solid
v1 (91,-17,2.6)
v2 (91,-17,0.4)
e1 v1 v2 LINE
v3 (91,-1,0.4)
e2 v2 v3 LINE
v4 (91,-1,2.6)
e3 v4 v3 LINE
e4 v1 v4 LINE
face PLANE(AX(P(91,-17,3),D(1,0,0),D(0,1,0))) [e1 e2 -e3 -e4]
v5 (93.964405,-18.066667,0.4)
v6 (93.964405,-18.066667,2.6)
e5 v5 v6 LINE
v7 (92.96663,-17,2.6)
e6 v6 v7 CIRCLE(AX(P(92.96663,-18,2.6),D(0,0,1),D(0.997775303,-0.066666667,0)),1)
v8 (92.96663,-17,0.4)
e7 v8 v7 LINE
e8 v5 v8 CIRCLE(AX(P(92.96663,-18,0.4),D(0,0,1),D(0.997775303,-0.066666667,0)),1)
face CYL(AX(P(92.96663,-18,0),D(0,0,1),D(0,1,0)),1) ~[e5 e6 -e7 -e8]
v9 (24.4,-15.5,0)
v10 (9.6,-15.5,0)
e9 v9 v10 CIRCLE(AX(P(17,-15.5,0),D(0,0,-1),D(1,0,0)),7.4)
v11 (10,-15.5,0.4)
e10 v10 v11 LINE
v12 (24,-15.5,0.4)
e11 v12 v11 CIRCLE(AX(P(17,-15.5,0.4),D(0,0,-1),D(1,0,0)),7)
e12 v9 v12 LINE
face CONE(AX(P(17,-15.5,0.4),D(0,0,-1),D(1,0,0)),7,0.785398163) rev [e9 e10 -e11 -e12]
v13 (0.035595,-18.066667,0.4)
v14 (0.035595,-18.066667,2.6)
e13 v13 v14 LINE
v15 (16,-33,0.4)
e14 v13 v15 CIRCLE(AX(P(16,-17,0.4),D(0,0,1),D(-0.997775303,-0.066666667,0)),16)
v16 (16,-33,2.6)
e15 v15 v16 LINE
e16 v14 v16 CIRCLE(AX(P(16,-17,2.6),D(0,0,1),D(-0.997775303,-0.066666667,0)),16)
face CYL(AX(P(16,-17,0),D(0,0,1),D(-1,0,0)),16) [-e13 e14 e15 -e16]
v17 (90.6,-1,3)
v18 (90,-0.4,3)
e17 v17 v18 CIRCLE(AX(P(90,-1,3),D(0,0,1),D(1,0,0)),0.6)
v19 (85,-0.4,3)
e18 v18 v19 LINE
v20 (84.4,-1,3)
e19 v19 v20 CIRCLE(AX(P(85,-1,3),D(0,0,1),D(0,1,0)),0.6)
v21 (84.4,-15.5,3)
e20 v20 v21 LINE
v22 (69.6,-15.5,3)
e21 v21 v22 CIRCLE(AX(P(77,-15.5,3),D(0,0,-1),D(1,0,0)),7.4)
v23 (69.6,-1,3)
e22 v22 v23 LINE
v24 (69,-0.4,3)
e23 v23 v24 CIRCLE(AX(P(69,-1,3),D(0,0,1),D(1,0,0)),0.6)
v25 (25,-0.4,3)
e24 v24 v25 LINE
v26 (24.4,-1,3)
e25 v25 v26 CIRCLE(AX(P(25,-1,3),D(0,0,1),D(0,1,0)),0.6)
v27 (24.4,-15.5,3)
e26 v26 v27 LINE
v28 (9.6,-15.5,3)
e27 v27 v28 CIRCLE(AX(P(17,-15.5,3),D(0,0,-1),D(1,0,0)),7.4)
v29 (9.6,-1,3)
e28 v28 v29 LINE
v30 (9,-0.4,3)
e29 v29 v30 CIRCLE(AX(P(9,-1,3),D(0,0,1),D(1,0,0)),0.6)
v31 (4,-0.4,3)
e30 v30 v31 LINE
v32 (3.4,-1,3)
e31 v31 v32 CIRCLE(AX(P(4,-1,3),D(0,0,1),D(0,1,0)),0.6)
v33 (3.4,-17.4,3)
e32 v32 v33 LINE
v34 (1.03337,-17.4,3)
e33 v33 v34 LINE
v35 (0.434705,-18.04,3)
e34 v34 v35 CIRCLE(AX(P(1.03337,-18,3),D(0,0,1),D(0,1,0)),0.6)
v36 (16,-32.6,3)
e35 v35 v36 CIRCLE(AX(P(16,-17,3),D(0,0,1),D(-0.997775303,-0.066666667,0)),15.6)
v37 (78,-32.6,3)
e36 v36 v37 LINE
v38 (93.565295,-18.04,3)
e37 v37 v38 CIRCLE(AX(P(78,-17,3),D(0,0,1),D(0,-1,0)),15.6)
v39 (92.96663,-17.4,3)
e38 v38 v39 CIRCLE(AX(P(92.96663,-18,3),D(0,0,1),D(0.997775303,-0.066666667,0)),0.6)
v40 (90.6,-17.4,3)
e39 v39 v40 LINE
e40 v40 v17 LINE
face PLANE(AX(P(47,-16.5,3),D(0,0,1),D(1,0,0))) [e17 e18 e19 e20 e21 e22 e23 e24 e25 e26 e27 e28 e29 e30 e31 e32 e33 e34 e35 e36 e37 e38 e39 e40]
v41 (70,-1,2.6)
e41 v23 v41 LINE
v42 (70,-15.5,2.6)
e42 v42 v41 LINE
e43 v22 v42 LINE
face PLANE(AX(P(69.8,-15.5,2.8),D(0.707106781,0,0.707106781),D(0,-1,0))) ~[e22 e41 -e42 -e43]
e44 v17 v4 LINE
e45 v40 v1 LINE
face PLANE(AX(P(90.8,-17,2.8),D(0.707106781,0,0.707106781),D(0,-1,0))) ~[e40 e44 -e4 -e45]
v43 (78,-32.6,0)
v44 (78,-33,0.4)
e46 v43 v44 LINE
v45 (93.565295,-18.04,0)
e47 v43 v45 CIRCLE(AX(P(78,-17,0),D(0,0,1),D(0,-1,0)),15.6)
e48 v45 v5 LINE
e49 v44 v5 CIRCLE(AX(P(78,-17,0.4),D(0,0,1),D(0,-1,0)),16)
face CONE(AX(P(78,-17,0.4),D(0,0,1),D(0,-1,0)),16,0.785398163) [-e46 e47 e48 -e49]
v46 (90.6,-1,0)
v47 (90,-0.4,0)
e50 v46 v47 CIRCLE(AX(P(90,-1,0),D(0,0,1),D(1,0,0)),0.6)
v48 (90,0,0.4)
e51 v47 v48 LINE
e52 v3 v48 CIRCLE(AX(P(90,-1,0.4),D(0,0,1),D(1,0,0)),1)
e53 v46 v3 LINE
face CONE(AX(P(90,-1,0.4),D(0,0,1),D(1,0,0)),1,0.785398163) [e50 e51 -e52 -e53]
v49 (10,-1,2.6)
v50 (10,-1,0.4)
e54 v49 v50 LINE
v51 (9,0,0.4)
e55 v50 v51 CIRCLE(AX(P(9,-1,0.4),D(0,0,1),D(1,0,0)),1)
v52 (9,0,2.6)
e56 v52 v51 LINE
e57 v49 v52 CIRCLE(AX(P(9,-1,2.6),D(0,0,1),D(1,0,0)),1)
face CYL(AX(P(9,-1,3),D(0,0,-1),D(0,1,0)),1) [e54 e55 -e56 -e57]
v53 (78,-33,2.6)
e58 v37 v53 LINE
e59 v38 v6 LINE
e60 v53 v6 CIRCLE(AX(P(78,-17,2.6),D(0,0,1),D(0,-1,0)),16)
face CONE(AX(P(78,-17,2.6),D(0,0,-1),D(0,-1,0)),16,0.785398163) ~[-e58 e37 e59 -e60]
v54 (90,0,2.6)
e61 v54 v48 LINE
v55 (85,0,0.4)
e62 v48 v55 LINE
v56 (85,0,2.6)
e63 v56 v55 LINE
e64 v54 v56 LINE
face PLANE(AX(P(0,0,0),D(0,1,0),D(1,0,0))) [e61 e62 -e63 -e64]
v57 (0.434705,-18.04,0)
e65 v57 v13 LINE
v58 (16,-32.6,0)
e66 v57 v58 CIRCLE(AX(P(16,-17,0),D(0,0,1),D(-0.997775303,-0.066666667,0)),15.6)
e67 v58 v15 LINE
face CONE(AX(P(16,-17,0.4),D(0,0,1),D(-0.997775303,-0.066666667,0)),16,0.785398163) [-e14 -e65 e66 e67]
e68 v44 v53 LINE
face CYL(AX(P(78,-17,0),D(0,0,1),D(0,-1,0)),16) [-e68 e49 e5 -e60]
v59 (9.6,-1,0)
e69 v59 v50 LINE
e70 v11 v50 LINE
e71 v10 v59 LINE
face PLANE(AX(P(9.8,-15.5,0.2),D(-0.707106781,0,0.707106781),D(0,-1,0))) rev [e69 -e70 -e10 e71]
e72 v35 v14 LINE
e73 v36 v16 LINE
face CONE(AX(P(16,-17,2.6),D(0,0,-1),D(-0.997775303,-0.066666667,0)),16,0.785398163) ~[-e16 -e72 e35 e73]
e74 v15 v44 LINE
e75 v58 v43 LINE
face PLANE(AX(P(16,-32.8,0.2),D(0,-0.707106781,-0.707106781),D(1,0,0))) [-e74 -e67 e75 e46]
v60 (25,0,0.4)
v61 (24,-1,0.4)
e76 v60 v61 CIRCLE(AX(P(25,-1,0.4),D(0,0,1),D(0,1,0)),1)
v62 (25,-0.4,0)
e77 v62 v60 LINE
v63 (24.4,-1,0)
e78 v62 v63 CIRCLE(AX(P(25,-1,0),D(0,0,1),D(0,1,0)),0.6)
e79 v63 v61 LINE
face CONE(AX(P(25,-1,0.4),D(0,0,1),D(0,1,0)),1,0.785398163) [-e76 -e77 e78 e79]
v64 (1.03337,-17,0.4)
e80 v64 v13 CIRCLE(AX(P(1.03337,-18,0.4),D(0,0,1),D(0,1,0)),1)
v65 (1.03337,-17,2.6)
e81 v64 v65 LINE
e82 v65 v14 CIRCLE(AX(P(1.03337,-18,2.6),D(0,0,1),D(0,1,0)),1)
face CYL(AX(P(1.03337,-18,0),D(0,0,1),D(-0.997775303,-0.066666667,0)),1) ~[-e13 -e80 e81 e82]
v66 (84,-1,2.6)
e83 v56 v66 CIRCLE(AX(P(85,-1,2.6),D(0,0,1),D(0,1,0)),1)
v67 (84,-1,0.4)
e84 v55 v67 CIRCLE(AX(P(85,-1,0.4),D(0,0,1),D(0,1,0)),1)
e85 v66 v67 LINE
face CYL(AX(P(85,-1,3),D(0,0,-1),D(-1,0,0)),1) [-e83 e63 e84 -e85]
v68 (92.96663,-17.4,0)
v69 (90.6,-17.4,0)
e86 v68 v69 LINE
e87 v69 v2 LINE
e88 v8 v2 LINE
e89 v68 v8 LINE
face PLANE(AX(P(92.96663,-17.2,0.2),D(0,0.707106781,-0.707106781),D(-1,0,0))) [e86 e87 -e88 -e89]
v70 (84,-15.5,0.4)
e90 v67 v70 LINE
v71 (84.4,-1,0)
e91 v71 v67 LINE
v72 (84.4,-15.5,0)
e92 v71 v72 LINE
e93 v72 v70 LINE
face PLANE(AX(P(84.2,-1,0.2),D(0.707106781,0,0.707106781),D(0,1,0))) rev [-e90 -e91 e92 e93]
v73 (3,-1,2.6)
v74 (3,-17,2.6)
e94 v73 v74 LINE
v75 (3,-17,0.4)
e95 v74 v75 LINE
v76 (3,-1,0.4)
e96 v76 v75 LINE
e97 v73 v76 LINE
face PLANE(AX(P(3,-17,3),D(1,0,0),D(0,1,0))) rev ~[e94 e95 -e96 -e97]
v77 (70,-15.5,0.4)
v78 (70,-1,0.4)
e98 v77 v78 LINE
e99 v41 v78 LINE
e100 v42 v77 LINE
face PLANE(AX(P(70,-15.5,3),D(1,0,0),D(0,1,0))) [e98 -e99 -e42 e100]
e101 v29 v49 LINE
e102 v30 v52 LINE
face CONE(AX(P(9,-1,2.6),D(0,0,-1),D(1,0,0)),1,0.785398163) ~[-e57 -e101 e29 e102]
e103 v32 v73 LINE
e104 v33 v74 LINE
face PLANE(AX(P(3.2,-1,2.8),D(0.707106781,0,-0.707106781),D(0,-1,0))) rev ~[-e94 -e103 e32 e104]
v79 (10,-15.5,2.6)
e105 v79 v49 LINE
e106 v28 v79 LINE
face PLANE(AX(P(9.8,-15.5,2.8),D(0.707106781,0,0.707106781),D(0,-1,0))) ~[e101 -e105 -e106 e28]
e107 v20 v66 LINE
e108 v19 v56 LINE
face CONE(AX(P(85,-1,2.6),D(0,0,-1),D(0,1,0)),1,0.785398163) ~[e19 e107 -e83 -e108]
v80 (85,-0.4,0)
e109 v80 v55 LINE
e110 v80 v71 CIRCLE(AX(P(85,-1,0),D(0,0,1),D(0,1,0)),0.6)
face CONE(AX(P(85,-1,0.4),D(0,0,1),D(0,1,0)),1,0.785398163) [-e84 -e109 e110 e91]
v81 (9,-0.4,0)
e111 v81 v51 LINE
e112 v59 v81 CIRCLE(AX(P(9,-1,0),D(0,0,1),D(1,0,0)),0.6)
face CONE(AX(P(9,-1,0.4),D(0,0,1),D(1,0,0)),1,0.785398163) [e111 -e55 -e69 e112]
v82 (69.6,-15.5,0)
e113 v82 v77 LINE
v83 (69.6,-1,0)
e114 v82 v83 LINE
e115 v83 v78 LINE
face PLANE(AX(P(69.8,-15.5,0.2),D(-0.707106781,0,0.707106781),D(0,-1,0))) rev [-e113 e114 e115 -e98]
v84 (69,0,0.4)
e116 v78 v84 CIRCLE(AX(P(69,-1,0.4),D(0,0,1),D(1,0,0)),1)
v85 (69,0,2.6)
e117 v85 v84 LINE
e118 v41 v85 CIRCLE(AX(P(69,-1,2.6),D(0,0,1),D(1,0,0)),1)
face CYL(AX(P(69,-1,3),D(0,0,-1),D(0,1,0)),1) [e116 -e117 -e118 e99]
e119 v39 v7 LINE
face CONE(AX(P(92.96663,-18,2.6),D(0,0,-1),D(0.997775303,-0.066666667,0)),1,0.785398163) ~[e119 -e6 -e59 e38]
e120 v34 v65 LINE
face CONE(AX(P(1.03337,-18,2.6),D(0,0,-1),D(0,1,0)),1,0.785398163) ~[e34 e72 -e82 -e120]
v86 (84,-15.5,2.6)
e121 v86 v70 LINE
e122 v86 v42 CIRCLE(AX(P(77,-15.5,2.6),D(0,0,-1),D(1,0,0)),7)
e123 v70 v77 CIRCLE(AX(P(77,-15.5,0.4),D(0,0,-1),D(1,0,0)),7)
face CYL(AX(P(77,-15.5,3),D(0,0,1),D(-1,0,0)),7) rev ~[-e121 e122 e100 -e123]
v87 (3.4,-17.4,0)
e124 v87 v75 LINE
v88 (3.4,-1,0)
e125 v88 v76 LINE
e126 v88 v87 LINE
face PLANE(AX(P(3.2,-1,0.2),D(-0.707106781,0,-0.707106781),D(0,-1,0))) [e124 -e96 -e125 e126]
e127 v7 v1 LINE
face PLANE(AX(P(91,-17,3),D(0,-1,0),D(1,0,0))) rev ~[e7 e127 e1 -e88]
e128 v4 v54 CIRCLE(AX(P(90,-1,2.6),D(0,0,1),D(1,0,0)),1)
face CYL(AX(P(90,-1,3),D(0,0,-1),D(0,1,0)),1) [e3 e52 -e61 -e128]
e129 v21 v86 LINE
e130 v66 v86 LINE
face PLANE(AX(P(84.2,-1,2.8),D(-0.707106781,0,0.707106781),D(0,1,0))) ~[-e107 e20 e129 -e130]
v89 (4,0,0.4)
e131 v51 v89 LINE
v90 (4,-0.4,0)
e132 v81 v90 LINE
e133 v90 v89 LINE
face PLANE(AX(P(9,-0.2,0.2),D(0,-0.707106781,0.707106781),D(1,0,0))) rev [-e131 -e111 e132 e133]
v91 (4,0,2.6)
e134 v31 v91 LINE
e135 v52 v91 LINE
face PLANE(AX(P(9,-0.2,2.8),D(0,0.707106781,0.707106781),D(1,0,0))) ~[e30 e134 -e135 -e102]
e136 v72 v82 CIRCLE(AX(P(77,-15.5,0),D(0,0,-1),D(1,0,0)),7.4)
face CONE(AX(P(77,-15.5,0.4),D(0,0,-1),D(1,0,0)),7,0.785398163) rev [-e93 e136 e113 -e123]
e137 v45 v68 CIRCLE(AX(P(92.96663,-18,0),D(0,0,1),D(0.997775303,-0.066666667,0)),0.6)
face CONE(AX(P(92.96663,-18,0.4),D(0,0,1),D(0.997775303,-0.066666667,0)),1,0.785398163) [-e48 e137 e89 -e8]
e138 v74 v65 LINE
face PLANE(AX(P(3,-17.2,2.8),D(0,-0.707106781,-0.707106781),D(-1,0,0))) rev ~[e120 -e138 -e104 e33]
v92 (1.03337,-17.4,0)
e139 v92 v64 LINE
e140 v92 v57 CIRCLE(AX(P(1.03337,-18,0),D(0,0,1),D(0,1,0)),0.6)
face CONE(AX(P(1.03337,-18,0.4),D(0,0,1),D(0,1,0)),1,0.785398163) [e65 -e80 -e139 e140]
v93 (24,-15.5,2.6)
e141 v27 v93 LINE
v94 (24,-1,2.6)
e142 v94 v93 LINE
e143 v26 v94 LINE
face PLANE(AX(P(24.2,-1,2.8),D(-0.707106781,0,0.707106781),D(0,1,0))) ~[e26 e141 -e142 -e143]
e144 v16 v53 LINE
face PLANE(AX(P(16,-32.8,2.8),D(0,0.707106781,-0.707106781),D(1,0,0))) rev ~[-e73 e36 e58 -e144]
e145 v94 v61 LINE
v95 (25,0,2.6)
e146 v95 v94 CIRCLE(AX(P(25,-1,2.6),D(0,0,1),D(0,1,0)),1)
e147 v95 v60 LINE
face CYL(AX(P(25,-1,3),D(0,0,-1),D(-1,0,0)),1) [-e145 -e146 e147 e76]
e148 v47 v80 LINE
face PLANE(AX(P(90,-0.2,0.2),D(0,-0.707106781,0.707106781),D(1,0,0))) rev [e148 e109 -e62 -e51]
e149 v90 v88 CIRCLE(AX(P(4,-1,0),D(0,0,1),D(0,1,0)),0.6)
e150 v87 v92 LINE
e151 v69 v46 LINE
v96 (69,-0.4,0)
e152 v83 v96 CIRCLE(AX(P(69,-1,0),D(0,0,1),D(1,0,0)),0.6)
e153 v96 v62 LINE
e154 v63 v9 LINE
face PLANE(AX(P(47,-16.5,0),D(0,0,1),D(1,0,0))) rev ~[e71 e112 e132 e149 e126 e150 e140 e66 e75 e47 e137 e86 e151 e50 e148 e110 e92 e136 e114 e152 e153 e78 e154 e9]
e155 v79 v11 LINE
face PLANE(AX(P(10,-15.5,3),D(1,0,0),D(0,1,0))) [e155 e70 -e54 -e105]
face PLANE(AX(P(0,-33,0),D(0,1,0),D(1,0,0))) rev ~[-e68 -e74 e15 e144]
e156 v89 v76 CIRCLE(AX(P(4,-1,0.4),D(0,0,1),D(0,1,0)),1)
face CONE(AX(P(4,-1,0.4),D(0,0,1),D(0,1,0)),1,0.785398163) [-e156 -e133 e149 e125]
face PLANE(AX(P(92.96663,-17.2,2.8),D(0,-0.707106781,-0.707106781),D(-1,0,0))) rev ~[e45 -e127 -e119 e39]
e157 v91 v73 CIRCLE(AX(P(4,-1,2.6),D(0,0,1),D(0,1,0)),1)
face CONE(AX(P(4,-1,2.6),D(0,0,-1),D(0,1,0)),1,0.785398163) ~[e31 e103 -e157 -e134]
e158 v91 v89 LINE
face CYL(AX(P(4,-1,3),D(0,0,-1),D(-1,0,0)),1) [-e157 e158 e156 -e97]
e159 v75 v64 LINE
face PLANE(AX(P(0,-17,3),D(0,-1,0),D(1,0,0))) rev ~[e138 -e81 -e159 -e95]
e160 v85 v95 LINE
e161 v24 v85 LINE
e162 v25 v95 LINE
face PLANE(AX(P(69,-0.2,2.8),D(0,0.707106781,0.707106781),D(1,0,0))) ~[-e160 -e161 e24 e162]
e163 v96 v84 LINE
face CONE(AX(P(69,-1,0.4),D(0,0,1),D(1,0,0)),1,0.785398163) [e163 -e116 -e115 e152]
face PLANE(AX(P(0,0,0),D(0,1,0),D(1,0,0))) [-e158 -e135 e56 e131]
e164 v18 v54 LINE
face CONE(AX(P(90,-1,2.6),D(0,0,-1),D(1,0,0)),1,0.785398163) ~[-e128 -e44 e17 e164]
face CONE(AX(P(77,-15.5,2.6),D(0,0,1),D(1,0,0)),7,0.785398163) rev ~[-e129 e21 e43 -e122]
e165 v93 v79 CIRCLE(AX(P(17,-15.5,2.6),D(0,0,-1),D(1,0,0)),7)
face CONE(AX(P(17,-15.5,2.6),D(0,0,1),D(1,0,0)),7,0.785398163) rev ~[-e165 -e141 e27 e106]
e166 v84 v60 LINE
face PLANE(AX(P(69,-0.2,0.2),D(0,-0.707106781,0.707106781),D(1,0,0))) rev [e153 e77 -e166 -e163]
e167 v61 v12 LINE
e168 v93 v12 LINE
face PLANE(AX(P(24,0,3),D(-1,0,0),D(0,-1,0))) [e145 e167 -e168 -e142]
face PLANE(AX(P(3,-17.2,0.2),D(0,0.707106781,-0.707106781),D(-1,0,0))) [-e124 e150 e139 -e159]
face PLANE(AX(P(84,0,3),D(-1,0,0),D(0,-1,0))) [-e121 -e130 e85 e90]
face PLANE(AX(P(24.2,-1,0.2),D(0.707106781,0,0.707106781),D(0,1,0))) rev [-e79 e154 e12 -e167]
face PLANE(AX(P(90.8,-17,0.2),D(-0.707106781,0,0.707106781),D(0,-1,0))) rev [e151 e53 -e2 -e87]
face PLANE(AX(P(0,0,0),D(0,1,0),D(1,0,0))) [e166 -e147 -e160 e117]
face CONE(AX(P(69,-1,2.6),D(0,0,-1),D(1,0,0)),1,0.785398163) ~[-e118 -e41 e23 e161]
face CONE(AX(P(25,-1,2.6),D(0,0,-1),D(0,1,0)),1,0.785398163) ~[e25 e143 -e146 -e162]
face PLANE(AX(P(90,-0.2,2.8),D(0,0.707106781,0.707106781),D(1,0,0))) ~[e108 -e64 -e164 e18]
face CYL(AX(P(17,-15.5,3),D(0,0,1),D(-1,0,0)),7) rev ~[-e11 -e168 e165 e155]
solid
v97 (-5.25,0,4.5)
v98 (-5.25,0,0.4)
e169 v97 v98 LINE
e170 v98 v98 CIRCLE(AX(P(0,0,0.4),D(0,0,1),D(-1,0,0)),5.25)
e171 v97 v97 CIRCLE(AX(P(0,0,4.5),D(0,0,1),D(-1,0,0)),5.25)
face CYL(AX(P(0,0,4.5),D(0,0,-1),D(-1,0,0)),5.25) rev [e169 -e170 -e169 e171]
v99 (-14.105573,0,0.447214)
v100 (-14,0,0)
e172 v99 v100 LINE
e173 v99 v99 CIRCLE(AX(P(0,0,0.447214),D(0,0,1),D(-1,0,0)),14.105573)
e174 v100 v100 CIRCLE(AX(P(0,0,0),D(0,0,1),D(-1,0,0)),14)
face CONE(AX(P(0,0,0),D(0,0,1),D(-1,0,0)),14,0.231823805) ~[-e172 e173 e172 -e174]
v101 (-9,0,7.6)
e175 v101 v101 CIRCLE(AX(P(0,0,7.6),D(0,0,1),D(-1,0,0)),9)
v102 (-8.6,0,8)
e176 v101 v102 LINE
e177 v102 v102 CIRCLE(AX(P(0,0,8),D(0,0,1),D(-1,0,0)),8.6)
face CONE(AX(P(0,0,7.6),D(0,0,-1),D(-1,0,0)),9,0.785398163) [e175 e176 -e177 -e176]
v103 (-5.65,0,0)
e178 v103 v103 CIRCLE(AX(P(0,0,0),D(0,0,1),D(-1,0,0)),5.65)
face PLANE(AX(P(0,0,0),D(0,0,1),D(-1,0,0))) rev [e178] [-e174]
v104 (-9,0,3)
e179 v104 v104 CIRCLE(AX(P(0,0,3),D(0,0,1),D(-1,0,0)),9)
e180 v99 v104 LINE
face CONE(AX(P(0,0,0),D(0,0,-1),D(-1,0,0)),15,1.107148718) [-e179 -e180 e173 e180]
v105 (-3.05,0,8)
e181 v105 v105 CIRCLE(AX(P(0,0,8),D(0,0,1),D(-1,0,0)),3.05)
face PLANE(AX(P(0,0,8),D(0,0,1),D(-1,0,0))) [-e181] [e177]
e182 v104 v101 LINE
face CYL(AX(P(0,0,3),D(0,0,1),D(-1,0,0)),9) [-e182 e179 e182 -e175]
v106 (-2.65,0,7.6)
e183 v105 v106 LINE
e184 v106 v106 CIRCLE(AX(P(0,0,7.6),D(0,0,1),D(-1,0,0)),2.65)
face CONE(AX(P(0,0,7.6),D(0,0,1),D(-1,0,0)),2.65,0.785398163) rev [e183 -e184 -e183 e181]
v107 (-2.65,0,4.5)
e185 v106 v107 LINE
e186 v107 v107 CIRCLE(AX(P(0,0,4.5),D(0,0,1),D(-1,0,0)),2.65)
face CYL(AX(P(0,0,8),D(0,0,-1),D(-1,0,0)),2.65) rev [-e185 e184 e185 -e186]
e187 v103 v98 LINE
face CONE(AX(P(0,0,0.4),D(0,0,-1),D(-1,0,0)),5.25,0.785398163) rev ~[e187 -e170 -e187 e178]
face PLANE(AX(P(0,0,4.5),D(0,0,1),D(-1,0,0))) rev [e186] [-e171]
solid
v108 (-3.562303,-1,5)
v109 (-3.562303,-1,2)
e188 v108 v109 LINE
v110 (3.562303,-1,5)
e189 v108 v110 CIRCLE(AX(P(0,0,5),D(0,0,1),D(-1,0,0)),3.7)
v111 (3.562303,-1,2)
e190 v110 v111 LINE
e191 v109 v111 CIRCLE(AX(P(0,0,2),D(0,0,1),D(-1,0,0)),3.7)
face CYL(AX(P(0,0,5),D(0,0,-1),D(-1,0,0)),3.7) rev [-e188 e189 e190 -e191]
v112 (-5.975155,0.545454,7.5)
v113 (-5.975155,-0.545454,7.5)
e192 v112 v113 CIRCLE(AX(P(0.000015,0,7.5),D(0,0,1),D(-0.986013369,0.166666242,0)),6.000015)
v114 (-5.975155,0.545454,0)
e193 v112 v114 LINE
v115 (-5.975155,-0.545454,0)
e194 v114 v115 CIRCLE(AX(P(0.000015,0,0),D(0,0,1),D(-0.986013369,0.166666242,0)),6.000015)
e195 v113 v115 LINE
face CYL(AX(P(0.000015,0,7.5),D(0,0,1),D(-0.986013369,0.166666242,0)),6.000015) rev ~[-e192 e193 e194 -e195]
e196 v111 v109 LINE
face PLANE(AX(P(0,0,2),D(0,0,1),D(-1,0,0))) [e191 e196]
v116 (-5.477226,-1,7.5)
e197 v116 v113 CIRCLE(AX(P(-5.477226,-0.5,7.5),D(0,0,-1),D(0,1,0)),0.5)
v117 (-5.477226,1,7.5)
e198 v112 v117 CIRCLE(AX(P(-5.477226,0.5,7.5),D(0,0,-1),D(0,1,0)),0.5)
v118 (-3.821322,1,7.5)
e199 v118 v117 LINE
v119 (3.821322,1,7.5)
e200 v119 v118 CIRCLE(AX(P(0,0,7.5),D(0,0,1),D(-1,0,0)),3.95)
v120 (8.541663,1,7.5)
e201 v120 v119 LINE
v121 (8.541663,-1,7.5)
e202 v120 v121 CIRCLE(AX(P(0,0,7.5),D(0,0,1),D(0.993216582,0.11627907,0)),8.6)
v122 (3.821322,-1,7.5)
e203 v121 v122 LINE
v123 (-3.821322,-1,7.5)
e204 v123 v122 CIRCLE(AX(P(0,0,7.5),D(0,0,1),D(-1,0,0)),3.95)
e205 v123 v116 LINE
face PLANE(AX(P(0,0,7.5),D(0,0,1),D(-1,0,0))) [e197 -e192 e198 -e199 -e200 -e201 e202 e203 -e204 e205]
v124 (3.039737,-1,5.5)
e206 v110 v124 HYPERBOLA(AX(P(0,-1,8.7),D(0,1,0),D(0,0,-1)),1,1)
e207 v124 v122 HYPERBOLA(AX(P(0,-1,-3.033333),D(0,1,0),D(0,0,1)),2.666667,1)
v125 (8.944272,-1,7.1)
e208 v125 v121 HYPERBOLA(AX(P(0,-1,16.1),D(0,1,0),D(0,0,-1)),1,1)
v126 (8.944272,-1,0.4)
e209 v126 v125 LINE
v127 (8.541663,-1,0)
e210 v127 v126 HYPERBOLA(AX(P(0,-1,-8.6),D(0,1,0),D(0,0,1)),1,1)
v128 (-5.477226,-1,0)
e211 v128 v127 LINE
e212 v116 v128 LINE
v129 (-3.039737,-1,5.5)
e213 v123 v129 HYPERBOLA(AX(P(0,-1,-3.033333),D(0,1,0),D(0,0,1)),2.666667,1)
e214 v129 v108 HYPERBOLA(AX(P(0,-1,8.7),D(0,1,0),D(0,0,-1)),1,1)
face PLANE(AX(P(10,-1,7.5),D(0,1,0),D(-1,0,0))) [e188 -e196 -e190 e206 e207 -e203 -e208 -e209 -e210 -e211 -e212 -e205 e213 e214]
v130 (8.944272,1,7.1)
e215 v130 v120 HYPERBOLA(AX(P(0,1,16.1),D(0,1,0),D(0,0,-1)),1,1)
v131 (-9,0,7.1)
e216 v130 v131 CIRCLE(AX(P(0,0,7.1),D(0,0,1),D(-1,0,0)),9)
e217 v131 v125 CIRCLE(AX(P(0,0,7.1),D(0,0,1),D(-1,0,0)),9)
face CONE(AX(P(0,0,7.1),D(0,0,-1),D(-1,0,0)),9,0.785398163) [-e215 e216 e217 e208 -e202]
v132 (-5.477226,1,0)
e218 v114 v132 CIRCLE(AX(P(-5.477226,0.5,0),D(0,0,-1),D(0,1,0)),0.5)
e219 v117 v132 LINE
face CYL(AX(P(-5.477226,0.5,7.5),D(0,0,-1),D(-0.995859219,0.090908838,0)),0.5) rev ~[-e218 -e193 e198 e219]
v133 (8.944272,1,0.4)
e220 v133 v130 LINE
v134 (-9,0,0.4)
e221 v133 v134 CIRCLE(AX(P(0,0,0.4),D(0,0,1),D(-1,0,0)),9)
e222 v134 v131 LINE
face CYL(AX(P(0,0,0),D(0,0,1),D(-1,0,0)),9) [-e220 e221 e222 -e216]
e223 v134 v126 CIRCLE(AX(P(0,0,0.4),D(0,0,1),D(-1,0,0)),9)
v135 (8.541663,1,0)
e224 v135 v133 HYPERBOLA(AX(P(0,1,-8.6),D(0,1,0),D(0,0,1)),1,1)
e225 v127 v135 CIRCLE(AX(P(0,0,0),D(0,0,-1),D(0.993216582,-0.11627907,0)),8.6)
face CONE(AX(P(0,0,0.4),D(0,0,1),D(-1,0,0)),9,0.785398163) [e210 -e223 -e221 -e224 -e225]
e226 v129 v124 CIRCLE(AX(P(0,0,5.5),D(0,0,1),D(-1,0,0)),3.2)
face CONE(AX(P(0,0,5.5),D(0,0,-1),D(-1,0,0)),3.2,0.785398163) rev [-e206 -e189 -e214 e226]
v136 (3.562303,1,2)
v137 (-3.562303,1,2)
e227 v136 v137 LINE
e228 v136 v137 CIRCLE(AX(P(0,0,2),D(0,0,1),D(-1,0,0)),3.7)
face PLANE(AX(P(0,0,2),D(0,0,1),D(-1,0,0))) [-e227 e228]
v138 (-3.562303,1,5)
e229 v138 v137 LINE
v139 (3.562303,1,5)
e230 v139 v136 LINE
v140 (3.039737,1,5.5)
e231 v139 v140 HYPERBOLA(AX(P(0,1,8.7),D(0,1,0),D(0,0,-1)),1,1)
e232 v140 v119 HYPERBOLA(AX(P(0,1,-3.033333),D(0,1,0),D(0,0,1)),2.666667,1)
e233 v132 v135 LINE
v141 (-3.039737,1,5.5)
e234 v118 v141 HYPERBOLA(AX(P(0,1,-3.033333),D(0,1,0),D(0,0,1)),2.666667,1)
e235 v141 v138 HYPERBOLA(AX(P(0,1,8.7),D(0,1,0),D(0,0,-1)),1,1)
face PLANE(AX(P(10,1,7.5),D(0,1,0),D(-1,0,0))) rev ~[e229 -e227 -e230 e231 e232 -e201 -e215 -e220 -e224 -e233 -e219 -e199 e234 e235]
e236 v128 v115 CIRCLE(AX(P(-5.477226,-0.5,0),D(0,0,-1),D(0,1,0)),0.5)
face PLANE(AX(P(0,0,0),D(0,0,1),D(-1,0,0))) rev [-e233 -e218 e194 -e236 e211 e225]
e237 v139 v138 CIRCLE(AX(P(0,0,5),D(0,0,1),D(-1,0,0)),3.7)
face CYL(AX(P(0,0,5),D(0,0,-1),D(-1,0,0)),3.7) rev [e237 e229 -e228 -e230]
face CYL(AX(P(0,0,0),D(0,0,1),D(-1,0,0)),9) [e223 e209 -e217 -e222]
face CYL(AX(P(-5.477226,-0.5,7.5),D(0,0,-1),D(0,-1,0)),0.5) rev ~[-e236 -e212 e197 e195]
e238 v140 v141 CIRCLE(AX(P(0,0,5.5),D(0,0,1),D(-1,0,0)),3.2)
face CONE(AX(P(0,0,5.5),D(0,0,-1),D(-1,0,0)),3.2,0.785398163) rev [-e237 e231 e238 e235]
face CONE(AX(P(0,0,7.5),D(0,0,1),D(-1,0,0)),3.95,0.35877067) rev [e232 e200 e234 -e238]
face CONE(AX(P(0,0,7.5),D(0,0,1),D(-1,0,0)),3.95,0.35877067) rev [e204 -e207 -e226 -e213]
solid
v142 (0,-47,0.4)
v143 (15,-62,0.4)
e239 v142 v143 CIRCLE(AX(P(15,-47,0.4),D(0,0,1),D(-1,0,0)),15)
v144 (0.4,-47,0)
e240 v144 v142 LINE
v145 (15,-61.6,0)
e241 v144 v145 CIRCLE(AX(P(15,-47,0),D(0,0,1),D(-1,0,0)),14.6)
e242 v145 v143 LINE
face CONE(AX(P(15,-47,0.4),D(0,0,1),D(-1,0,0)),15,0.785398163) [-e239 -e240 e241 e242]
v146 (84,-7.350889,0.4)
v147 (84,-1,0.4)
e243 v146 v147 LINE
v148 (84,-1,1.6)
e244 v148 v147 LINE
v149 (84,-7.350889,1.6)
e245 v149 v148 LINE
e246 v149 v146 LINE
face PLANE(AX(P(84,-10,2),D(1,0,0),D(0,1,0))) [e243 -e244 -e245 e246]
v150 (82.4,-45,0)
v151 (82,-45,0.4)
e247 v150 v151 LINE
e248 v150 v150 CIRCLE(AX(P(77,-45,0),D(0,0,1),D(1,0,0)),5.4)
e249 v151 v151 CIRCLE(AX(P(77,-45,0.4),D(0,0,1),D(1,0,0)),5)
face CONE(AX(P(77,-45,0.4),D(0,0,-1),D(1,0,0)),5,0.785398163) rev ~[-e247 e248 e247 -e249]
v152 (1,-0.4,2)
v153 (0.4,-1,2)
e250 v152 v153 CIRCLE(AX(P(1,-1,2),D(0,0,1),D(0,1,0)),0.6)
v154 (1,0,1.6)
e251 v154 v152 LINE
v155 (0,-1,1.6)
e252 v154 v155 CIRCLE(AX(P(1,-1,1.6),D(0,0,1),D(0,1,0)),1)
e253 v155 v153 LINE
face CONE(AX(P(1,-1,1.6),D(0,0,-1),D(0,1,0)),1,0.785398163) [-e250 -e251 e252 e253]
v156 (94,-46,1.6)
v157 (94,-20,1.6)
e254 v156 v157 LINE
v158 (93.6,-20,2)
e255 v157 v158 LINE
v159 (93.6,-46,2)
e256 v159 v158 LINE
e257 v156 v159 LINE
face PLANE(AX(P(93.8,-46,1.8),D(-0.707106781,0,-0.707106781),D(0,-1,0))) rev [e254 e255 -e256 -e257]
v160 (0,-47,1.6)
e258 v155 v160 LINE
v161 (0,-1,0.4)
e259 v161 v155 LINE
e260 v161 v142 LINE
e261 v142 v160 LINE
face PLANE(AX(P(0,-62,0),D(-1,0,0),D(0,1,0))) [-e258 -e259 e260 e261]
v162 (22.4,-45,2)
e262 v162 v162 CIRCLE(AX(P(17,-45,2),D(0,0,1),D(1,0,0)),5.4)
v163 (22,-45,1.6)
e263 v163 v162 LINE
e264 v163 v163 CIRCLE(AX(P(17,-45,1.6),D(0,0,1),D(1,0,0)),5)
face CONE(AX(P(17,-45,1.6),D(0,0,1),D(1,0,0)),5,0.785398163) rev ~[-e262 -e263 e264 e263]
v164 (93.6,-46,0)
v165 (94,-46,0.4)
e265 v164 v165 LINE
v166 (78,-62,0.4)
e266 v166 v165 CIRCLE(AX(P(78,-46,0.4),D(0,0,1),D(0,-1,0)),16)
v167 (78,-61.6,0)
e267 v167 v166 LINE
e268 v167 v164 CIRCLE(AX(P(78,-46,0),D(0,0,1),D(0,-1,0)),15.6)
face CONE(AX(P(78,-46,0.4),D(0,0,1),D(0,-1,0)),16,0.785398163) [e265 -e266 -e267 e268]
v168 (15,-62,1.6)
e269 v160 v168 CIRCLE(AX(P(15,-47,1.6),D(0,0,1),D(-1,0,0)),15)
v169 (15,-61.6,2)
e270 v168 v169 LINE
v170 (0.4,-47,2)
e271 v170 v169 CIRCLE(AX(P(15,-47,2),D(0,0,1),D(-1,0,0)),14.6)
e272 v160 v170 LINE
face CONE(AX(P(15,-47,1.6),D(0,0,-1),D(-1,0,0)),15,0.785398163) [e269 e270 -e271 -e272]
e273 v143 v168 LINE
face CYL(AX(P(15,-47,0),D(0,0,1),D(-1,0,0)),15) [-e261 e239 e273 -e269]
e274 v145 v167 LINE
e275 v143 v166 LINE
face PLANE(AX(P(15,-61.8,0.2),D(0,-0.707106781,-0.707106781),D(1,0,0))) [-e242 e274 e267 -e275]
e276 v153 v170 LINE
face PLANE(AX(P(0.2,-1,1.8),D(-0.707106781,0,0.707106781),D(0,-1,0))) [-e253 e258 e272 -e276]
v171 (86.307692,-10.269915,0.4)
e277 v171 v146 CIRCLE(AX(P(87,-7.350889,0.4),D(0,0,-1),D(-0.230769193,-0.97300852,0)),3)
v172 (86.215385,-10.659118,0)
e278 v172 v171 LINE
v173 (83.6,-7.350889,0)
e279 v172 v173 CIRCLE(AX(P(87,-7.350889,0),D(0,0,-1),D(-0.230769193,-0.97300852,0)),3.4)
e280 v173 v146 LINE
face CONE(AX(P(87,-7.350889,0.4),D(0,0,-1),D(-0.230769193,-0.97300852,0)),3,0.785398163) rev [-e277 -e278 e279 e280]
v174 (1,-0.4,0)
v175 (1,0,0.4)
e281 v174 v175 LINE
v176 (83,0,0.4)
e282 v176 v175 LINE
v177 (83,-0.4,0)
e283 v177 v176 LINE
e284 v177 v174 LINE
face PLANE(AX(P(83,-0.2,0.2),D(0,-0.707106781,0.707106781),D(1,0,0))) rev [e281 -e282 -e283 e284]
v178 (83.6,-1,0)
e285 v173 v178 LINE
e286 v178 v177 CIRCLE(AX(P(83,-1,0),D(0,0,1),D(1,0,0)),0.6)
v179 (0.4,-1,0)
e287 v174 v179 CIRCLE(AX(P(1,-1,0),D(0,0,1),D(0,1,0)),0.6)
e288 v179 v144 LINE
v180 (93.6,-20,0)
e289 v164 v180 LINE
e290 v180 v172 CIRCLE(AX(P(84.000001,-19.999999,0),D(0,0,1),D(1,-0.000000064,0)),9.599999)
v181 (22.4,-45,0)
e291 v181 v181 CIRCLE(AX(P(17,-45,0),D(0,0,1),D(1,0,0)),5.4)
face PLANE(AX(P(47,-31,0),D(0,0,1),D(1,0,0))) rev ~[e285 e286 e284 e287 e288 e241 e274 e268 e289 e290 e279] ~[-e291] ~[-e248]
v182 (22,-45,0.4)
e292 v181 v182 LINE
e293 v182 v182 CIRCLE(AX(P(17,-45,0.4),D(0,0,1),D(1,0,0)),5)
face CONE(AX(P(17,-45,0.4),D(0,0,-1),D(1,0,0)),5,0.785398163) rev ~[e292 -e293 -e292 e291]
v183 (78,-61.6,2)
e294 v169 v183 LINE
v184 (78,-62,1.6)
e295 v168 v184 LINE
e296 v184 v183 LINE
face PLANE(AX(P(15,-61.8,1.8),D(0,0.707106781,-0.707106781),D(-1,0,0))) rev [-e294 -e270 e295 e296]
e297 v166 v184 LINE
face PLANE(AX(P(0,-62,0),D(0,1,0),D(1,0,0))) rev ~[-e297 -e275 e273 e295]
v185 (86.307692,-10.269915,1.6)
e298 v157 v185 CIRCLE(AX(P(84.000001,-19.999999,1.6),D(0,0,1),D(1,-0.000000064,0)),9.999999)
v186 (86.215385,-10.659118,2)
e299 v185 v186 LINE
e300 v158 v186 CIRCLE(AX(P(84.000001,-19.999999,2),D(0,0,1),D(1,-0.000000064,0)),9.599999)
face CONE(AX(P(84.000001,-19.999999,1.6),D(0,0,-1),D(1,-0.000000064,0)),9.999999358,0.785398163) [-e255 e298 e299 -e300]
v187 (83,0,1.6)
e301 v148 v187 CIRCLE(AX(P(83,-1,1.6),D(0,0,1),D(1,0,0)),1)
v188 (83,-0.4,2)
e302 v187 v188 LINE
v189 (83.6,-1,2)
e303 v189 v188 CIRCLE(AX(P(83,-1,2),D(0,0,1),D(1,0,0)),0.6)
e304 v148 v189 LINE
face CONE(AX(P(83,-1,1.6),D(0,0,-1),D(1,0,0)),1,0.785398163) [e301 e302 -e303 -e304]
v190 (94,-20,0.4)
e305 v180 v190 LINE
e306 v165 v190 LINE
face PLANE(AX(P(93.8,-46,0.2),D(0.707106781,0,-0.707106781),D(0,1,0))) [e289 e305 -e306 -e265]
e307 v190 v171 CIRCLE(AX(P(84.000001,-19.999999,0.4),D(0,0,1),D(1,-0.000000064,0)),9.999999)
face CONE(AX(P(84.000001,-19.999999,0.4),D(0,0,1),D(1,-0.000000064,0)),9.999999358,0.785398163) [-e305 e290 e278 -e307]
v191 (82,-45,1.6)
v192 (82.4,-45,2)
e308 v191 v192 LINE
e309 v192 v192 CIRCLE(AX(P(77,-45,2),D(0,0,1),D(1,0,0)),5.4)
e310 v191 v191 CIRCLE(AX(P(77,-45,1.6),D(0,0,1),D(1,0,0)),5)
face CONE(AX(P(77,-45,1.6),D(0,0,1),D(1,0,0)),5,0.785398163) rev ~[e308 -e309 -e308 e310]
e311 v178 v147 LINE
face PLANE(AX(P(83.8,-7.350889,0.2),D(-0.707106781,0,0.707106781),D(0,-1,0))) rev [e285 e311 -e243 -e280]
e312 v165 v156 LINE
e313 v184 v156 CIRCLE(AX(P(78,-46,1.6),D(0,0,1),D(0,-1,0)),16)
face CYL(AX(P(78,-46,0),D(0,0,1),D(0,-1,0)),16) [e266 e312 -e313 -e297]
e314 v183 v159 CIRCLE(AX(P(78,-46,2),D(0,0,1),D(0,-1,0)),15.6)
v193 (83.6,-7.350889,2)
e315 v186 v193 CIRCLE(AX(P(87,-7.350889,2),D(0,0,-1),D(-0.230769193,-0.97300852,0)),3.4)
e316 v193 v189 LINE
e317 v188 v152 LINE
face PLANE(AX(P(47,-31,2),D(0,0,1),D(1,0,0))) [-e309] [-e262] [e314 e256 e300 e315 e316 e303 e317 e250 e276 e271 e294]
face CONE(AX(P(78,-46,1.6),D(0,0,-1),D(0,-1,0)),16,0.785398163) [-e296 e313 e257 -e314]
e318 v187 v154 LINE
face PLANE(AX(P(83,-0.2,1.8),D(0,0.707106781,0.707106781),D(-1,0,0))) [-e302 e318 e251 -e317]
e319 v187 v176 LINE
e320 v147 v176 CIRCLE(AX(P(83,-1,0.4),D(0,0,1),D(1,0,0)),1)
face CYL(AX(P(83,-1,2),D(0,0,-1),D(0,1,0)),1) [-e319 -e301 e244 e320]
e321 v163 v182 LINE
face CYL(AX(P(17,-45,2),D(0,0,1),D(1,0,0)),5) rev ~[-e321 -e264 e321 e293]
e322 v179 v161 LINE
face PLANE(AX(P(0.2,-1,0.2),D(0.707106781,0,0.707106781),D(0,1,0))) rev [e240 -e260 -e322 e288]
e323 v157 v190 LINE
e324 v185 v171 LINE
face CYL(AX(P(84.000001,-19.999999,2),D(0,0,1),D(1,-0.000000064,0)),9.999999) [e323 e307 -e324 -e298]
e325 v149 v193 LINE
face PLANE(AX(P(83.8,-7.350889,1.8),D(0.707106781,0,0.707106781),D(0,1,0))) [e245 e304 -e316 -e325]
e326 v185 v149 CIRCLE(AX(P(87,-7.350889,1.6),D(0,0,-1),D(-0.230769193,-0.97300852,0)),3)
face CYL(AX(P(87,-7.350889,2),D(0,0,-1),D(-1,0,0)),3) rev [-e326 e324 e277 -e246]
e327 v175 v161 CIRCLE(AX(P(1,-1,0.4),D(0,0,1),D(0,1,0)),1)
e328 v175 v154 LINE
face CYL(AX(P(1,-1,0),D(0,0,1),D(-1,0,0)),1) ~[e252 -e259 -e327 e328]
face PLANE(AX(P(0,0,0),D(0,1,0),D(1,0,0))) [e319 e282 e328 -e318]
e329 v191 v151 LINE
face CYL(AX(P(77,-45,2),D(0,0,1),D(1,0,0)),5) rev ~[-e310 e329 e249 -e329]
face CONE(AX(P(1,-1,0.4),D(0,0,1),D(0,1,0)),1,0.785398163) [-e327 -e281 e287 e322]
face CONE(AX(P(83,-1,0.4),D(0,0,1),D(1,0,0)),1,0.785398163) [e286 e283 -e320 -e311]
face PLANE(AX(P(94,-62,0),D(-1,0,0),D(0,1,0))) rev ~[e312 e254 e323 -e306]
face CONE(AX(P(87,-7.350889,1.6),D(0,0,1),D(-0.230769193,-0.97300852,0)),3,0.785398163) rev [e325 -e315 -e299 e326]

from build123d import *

# Parameters (mm, degrees)
SKETCH_W        = 94
SKETCH_H        = 62
PAD_DEPTH       = 2
FILLET_R        = 15
FILLET001_R     = 16
POCKET_DEPTH    = 2.001
FILLET002_R     = 1
FILLET003_R     = 3
SKETCH002_R     = 5
POCKET001_DEPTH = 2.001
CHAMFER_SIZE    = 0.4
CHAMFER001_SIZE = 1
CHAMFER002_SIZE = 0.4
CHAMFER006_SIZE = 0.4
POCKET006_DEPTH = 7.501
FILLET006_R     = 0.5
SKETCH007_W     = 94
SKETCH007_H     = 33
PAD001_DEPTH    = 3
POCKET004_DEPTH = 3.001
FILLET004_R     = 16
SKETCH009_W     = 3
SKETCH009_H     = 17
POCKET005_DEPTH = 3.001
FILLET005_R     = 1
CHAMFER005_SIZE = 0.4


with BuildPart() as body:
    # Sketch → Pad (new body)
    with BuildSketch(Plane.XY):
        with Locations((47, -31)):
            Rectangle(SKETCH_W, SKETCH_H)
    extrude(amount=PAD_DEPTH)

    # Fillet
    fillet_edges = [body.edges().sort_by_distance(p)[0] for p in [
        (0, -62, 1),
    ]]
    fillet(fillet_edges, radius=FILLET_R)

    # Fillet001
    fillet001_edges = [body.edges().sort_by_distance(p)[0] for p in [
        (94, -62, 1),
    ]]
    fillet(fillet001_edges, radius=FILLET001_R)

    # Sketch001 (on Face5 of Fillet001) → Pocket (cut, through all)
    with BuildSketch(Plane.XY.offset(2)):
        with BuildLine():
            ThreePointArc((94, -20), (91.071068, -12.928932), (84, -10))
            Line((84, -10), (84, 0))
            Line((94, 0), (84, 0))
            Line((94, 0), (94, -20))
        make_face()
    extrude(amount=-POCKET_DEPTH, mode=Mode.SUBTRACT)

    # Fillet002
    fillet002_edges = [body.edges().sort_by_distance(p)[0] for p in [
        (0, 0, 1),
        (84, 0, 1),
    ]]
    fillet(fillet002_edges, radius=FILLET002_R)

    # Fillet003
    fillet003_edges = [body.edges().sort_by_distance(p)[0] for p in [
        (84, -10, 1),
    ]]
    fillet(fillet003_edges, radius=FILLET003_R)

    # Sketch002 (on Face13 of Fillet003) → Pocket001 (cut, through all)
    with BuildSketch(Plane.XY.offset(2)):
        with Locations((17, -45)):
            Circle(SKETCH002_R)
        with Locations((77, -45)):
            Circle(SKETCH002_R)
    extrude(amount=-POCKET001_DEPTH, mode=Mode.SUBTRACT)

    # Chamfer
    chamfer_edges = [body.edges().sort_by_distance(p)[0] for p in [
        (84, -4.175445, 2),
        (84.646606, -9.21141, 2),
        (83.707107, -0.292893, 2),
        (91.844645, -13.798263, 2),
        (42, 0, 2),
        (94, -33, 2),
        (0.292893, -0.292893, 2),
        (89.313708, -57.313708, 2),
        (0, -24, 2),
        (46.5, -62, 2),
        (4.393398, -57.606602, 2),
        (12, -45, 2),
        (72, -45, 2),
        (84, -4.175445, 0),
        (84.646606, -9.21141, 0),
        (83.707107, -0.292893, 0),
        (91.844645, -13.798263, 0),
        (42, 0, 0),
        (94, -33, 0),
        (0.292893, -0.292893, 0),
        (89.313708, -57.313708, 0),
        (0, -24, 0),
        (46.5, -62, 0),
        (4.393398, -57.606602, 0),
        (12, -45, 0),
        (72, -45, 0),
    ]]
    chamfer(chamfer_edges, length=CHAMFER_SIZE)


with BuildPart() as body001:
    # Sketch003 → Revolution (revolve)
    with BuildSketch(Plane.XZ):
        Polygon((-15, 0), (-9, 3), (-9, 8), (-2.65, 8), (-2.65, 4.5), (-5.25, 4.5), (-5.25, 0), align=None)
    revolve(axis=Axis((0, 0, 0), (0, 0, 1)))

    # Chamfer001
    chamfer001_edges = [body001.edges().sort_by_distance(p)[0] for p in [
        (15, 0, 0),
    ]]
    chamfer(chamfer001_edges, length=CHAMFER001_SIZE)

    # Chamfer002
    chamfer002_edges = [body001.edges().sort_by_distance(p)[0] for p in [
        (2.65, 0, 8),
        (9, 0, 8),
        (5.25, 0, 0),
    ]]
    chamfer(chamfer002_edges, length=CHAMFER002_SIZE)


with BuildPart() as body002:
    # Sketch004 → Revolution001 (revolve)
    with BuildSketch(Plane.XZ):
        Polygon((-3.2, 5.5), (-3.7, 5), (-3.7, 2), (0, 2), (0, 0), (-9, 0), (-9, 7.5), (-3.95, 7.5), align=None)
    revolve(axis=Axis((0, 0, 0), (0, 0, 1)))

    # Chamfer006
    chamfer006_edges = [body002.edges().sort_by_distance(p)[0] for p in [
        (9, 0, 7.5),
        (9, 0, 0),
    ]]
    chamfer(chamfer006_edges, length=CHAMFER006_SIZE)

    # Sketch010 (on Face5 of Chamfer006) → Pocket006 (cut, through all)
    with BuildSketch(Plane(origin=(0, 0, 7.5), x_dir=(-1, 0, 0), z_dir=(0, 0, 1))):
        with BuildLine():
            ThreePointArc((5.91608, -1), (6, 0), (5.91608, 1))
            Line((-10, 1), (5.91608, 1))
            Line((-10, 1), (-10, -1))
            Line((-10, -1), (5.91608, -1))
        make_face()
    extrude(amount=-POCKET006_DEPTH, mode=Mode.SUBTRACT)

    # Fillet006
    fillet006_edges = [body002.edges().sort_by_distance(p)[0] for p in [
        (-5.91608, 1, 3.75),
        (-5.91608, -1, 3.75),
    ]]
    fillet(fillet006_edges, radius=FILLET006_R)


with BuildPart() as body003:
    # Sketch007 → Pad001 (new body)
    with BuildSketch(Plane.XY):
        with Locations((47, -16.5)):
            Rectangle(SKETCH007_W, SKETCH007_H)
    extrude(amount=PAD001_DEPTH)

    # Sketch008 (on Face6 of Pad001) → Pocket004 (cut, through all)
    with BuildSketch(Plane.XY.offset(3)):
        with BuildLine():
            ThreePointArc((10, -15.5), (17, -22.5), (24, -15.5))
            Line((24, 0), (24, -15.5))
            Line((10, 0), (24, 0))
            Line((10, -15.5), (10, 0))
        make_face()
        with BuildLine():
            ThreePointArc((70, -15.5), (77, -22.5), (84, -15.5))
            Line((84, 0), (84, -15.5))
            Line((70, 0), (84, 0))
            Line((70, -15.5), (70, 0))
        make_face()
    extrude(amount=-POCKET004_DEPTH, mode=Mode.SUBTRACT)

    # Fillet004
    fillet004_edges = [body003.edges().sort_by_distance(p)[0] for p in [
        (0, -33, 1.5),
        (94, -33, 1.5),
    ]]
    fillet(fillet004_edges, radius=FILLET004_R)

    # Sketch009 (on Face16 of Fillet004) → Pocket005 (cut, through all)
    with BuildSketch(Plane.XY.offset(3)):
        with Locations((1.5, -8.5)):
            Rectangle(SKETCH009_W, SKETCH009_H)
        with Locations((92.5, -8.5)):
            Rectangle(SKETCH009_W, SKETCH009_H)
    extrude(amount=-POCKET005_DEPTH, mode=Mode.SUBTRACT)

    # Fillet005
    fillet005_edges = [body003.edges().sort_by_distance(p)[0] for p in [
        (0, -17, 1.5),
        (3, 0, 1.5),
        (10, 0, 1.5),
        (24, 0, 1.5),
        (70, 0, 1.5),
        (84, 0, 1.5),
        (91, 0, 1.5),
        (94, -17, 1.5),
    ]]
    fillet(fillet005_edges, radius=FILLET005_R)

    # Chamfer005
    chamfer005_edges = [body003.edges().sort_by_distance(p)[0] for p in [
        (88.930081, -28.684748, 0),
        (93.696926, -17.31687, 0),
        (47, -33, 0),
        (91.983315, -17, 0),
        (5.069919, -28.684748, 0),
        (91, -9, 0),
        (0.303074, -17.31687, 0),
        (90.707107, -0.292893, 0),
        (2.016685, -17, 0),
        (87.5, 0, 0),
        (3, -9, 0),
        (84.292893, -0.292893, 0),
        (3.292893, -0.292893, 0),
        (84, -8.25, 0),
        (6.5, 0, 0),
        (77, -22.5, 0),
        (9.707107, -0.292893, 0),
        (70, -8.25, 0),
        (10, -8.25, 0),
        (69.707107, -0.292893, 0),
        (17, -22.5, 0),
        (47, 0, 0),
        (24, -8.25, 0),
        (24.292893, -0.292893, 0),
        (88.930081, -28.684748, 3),
        (93.696926, -17.31687, 3),
        (47, -33, 3),
        (91.983315, -17, 3),
        (5.069919, -28.684748, 3),
        (91, -9, 3),
        (0.303074, -17.31687, 3),
        (90.707107, -0.292893, 3),
        (2.016685, -17, 3),
        (87.5, 0, 3),
        (3, -9, 3),
        (84.292893, -0.292893, 3),
        (3.292893, -0.292893, 3),
        (84, -8.25, 3),
        (6.5, 0, 3),
        (77, -22.5, 3),
        (9.707107, -0.292893, 3),
        (70, -8.25, 3),
        (10, -8.25, 3),
        (69.707107, -0.292893, 3),
        (17, -22.5, 3),
        (47, 0, 3),
        (24, -8.25, 3),
        (24.292893, -0.292893, 3),
    ]]
    chamfer(chamfer005_edges, length=CHAMFER005_SIZE)


solid = Compound([body.part, body001.part, body002.part, body003.part])
